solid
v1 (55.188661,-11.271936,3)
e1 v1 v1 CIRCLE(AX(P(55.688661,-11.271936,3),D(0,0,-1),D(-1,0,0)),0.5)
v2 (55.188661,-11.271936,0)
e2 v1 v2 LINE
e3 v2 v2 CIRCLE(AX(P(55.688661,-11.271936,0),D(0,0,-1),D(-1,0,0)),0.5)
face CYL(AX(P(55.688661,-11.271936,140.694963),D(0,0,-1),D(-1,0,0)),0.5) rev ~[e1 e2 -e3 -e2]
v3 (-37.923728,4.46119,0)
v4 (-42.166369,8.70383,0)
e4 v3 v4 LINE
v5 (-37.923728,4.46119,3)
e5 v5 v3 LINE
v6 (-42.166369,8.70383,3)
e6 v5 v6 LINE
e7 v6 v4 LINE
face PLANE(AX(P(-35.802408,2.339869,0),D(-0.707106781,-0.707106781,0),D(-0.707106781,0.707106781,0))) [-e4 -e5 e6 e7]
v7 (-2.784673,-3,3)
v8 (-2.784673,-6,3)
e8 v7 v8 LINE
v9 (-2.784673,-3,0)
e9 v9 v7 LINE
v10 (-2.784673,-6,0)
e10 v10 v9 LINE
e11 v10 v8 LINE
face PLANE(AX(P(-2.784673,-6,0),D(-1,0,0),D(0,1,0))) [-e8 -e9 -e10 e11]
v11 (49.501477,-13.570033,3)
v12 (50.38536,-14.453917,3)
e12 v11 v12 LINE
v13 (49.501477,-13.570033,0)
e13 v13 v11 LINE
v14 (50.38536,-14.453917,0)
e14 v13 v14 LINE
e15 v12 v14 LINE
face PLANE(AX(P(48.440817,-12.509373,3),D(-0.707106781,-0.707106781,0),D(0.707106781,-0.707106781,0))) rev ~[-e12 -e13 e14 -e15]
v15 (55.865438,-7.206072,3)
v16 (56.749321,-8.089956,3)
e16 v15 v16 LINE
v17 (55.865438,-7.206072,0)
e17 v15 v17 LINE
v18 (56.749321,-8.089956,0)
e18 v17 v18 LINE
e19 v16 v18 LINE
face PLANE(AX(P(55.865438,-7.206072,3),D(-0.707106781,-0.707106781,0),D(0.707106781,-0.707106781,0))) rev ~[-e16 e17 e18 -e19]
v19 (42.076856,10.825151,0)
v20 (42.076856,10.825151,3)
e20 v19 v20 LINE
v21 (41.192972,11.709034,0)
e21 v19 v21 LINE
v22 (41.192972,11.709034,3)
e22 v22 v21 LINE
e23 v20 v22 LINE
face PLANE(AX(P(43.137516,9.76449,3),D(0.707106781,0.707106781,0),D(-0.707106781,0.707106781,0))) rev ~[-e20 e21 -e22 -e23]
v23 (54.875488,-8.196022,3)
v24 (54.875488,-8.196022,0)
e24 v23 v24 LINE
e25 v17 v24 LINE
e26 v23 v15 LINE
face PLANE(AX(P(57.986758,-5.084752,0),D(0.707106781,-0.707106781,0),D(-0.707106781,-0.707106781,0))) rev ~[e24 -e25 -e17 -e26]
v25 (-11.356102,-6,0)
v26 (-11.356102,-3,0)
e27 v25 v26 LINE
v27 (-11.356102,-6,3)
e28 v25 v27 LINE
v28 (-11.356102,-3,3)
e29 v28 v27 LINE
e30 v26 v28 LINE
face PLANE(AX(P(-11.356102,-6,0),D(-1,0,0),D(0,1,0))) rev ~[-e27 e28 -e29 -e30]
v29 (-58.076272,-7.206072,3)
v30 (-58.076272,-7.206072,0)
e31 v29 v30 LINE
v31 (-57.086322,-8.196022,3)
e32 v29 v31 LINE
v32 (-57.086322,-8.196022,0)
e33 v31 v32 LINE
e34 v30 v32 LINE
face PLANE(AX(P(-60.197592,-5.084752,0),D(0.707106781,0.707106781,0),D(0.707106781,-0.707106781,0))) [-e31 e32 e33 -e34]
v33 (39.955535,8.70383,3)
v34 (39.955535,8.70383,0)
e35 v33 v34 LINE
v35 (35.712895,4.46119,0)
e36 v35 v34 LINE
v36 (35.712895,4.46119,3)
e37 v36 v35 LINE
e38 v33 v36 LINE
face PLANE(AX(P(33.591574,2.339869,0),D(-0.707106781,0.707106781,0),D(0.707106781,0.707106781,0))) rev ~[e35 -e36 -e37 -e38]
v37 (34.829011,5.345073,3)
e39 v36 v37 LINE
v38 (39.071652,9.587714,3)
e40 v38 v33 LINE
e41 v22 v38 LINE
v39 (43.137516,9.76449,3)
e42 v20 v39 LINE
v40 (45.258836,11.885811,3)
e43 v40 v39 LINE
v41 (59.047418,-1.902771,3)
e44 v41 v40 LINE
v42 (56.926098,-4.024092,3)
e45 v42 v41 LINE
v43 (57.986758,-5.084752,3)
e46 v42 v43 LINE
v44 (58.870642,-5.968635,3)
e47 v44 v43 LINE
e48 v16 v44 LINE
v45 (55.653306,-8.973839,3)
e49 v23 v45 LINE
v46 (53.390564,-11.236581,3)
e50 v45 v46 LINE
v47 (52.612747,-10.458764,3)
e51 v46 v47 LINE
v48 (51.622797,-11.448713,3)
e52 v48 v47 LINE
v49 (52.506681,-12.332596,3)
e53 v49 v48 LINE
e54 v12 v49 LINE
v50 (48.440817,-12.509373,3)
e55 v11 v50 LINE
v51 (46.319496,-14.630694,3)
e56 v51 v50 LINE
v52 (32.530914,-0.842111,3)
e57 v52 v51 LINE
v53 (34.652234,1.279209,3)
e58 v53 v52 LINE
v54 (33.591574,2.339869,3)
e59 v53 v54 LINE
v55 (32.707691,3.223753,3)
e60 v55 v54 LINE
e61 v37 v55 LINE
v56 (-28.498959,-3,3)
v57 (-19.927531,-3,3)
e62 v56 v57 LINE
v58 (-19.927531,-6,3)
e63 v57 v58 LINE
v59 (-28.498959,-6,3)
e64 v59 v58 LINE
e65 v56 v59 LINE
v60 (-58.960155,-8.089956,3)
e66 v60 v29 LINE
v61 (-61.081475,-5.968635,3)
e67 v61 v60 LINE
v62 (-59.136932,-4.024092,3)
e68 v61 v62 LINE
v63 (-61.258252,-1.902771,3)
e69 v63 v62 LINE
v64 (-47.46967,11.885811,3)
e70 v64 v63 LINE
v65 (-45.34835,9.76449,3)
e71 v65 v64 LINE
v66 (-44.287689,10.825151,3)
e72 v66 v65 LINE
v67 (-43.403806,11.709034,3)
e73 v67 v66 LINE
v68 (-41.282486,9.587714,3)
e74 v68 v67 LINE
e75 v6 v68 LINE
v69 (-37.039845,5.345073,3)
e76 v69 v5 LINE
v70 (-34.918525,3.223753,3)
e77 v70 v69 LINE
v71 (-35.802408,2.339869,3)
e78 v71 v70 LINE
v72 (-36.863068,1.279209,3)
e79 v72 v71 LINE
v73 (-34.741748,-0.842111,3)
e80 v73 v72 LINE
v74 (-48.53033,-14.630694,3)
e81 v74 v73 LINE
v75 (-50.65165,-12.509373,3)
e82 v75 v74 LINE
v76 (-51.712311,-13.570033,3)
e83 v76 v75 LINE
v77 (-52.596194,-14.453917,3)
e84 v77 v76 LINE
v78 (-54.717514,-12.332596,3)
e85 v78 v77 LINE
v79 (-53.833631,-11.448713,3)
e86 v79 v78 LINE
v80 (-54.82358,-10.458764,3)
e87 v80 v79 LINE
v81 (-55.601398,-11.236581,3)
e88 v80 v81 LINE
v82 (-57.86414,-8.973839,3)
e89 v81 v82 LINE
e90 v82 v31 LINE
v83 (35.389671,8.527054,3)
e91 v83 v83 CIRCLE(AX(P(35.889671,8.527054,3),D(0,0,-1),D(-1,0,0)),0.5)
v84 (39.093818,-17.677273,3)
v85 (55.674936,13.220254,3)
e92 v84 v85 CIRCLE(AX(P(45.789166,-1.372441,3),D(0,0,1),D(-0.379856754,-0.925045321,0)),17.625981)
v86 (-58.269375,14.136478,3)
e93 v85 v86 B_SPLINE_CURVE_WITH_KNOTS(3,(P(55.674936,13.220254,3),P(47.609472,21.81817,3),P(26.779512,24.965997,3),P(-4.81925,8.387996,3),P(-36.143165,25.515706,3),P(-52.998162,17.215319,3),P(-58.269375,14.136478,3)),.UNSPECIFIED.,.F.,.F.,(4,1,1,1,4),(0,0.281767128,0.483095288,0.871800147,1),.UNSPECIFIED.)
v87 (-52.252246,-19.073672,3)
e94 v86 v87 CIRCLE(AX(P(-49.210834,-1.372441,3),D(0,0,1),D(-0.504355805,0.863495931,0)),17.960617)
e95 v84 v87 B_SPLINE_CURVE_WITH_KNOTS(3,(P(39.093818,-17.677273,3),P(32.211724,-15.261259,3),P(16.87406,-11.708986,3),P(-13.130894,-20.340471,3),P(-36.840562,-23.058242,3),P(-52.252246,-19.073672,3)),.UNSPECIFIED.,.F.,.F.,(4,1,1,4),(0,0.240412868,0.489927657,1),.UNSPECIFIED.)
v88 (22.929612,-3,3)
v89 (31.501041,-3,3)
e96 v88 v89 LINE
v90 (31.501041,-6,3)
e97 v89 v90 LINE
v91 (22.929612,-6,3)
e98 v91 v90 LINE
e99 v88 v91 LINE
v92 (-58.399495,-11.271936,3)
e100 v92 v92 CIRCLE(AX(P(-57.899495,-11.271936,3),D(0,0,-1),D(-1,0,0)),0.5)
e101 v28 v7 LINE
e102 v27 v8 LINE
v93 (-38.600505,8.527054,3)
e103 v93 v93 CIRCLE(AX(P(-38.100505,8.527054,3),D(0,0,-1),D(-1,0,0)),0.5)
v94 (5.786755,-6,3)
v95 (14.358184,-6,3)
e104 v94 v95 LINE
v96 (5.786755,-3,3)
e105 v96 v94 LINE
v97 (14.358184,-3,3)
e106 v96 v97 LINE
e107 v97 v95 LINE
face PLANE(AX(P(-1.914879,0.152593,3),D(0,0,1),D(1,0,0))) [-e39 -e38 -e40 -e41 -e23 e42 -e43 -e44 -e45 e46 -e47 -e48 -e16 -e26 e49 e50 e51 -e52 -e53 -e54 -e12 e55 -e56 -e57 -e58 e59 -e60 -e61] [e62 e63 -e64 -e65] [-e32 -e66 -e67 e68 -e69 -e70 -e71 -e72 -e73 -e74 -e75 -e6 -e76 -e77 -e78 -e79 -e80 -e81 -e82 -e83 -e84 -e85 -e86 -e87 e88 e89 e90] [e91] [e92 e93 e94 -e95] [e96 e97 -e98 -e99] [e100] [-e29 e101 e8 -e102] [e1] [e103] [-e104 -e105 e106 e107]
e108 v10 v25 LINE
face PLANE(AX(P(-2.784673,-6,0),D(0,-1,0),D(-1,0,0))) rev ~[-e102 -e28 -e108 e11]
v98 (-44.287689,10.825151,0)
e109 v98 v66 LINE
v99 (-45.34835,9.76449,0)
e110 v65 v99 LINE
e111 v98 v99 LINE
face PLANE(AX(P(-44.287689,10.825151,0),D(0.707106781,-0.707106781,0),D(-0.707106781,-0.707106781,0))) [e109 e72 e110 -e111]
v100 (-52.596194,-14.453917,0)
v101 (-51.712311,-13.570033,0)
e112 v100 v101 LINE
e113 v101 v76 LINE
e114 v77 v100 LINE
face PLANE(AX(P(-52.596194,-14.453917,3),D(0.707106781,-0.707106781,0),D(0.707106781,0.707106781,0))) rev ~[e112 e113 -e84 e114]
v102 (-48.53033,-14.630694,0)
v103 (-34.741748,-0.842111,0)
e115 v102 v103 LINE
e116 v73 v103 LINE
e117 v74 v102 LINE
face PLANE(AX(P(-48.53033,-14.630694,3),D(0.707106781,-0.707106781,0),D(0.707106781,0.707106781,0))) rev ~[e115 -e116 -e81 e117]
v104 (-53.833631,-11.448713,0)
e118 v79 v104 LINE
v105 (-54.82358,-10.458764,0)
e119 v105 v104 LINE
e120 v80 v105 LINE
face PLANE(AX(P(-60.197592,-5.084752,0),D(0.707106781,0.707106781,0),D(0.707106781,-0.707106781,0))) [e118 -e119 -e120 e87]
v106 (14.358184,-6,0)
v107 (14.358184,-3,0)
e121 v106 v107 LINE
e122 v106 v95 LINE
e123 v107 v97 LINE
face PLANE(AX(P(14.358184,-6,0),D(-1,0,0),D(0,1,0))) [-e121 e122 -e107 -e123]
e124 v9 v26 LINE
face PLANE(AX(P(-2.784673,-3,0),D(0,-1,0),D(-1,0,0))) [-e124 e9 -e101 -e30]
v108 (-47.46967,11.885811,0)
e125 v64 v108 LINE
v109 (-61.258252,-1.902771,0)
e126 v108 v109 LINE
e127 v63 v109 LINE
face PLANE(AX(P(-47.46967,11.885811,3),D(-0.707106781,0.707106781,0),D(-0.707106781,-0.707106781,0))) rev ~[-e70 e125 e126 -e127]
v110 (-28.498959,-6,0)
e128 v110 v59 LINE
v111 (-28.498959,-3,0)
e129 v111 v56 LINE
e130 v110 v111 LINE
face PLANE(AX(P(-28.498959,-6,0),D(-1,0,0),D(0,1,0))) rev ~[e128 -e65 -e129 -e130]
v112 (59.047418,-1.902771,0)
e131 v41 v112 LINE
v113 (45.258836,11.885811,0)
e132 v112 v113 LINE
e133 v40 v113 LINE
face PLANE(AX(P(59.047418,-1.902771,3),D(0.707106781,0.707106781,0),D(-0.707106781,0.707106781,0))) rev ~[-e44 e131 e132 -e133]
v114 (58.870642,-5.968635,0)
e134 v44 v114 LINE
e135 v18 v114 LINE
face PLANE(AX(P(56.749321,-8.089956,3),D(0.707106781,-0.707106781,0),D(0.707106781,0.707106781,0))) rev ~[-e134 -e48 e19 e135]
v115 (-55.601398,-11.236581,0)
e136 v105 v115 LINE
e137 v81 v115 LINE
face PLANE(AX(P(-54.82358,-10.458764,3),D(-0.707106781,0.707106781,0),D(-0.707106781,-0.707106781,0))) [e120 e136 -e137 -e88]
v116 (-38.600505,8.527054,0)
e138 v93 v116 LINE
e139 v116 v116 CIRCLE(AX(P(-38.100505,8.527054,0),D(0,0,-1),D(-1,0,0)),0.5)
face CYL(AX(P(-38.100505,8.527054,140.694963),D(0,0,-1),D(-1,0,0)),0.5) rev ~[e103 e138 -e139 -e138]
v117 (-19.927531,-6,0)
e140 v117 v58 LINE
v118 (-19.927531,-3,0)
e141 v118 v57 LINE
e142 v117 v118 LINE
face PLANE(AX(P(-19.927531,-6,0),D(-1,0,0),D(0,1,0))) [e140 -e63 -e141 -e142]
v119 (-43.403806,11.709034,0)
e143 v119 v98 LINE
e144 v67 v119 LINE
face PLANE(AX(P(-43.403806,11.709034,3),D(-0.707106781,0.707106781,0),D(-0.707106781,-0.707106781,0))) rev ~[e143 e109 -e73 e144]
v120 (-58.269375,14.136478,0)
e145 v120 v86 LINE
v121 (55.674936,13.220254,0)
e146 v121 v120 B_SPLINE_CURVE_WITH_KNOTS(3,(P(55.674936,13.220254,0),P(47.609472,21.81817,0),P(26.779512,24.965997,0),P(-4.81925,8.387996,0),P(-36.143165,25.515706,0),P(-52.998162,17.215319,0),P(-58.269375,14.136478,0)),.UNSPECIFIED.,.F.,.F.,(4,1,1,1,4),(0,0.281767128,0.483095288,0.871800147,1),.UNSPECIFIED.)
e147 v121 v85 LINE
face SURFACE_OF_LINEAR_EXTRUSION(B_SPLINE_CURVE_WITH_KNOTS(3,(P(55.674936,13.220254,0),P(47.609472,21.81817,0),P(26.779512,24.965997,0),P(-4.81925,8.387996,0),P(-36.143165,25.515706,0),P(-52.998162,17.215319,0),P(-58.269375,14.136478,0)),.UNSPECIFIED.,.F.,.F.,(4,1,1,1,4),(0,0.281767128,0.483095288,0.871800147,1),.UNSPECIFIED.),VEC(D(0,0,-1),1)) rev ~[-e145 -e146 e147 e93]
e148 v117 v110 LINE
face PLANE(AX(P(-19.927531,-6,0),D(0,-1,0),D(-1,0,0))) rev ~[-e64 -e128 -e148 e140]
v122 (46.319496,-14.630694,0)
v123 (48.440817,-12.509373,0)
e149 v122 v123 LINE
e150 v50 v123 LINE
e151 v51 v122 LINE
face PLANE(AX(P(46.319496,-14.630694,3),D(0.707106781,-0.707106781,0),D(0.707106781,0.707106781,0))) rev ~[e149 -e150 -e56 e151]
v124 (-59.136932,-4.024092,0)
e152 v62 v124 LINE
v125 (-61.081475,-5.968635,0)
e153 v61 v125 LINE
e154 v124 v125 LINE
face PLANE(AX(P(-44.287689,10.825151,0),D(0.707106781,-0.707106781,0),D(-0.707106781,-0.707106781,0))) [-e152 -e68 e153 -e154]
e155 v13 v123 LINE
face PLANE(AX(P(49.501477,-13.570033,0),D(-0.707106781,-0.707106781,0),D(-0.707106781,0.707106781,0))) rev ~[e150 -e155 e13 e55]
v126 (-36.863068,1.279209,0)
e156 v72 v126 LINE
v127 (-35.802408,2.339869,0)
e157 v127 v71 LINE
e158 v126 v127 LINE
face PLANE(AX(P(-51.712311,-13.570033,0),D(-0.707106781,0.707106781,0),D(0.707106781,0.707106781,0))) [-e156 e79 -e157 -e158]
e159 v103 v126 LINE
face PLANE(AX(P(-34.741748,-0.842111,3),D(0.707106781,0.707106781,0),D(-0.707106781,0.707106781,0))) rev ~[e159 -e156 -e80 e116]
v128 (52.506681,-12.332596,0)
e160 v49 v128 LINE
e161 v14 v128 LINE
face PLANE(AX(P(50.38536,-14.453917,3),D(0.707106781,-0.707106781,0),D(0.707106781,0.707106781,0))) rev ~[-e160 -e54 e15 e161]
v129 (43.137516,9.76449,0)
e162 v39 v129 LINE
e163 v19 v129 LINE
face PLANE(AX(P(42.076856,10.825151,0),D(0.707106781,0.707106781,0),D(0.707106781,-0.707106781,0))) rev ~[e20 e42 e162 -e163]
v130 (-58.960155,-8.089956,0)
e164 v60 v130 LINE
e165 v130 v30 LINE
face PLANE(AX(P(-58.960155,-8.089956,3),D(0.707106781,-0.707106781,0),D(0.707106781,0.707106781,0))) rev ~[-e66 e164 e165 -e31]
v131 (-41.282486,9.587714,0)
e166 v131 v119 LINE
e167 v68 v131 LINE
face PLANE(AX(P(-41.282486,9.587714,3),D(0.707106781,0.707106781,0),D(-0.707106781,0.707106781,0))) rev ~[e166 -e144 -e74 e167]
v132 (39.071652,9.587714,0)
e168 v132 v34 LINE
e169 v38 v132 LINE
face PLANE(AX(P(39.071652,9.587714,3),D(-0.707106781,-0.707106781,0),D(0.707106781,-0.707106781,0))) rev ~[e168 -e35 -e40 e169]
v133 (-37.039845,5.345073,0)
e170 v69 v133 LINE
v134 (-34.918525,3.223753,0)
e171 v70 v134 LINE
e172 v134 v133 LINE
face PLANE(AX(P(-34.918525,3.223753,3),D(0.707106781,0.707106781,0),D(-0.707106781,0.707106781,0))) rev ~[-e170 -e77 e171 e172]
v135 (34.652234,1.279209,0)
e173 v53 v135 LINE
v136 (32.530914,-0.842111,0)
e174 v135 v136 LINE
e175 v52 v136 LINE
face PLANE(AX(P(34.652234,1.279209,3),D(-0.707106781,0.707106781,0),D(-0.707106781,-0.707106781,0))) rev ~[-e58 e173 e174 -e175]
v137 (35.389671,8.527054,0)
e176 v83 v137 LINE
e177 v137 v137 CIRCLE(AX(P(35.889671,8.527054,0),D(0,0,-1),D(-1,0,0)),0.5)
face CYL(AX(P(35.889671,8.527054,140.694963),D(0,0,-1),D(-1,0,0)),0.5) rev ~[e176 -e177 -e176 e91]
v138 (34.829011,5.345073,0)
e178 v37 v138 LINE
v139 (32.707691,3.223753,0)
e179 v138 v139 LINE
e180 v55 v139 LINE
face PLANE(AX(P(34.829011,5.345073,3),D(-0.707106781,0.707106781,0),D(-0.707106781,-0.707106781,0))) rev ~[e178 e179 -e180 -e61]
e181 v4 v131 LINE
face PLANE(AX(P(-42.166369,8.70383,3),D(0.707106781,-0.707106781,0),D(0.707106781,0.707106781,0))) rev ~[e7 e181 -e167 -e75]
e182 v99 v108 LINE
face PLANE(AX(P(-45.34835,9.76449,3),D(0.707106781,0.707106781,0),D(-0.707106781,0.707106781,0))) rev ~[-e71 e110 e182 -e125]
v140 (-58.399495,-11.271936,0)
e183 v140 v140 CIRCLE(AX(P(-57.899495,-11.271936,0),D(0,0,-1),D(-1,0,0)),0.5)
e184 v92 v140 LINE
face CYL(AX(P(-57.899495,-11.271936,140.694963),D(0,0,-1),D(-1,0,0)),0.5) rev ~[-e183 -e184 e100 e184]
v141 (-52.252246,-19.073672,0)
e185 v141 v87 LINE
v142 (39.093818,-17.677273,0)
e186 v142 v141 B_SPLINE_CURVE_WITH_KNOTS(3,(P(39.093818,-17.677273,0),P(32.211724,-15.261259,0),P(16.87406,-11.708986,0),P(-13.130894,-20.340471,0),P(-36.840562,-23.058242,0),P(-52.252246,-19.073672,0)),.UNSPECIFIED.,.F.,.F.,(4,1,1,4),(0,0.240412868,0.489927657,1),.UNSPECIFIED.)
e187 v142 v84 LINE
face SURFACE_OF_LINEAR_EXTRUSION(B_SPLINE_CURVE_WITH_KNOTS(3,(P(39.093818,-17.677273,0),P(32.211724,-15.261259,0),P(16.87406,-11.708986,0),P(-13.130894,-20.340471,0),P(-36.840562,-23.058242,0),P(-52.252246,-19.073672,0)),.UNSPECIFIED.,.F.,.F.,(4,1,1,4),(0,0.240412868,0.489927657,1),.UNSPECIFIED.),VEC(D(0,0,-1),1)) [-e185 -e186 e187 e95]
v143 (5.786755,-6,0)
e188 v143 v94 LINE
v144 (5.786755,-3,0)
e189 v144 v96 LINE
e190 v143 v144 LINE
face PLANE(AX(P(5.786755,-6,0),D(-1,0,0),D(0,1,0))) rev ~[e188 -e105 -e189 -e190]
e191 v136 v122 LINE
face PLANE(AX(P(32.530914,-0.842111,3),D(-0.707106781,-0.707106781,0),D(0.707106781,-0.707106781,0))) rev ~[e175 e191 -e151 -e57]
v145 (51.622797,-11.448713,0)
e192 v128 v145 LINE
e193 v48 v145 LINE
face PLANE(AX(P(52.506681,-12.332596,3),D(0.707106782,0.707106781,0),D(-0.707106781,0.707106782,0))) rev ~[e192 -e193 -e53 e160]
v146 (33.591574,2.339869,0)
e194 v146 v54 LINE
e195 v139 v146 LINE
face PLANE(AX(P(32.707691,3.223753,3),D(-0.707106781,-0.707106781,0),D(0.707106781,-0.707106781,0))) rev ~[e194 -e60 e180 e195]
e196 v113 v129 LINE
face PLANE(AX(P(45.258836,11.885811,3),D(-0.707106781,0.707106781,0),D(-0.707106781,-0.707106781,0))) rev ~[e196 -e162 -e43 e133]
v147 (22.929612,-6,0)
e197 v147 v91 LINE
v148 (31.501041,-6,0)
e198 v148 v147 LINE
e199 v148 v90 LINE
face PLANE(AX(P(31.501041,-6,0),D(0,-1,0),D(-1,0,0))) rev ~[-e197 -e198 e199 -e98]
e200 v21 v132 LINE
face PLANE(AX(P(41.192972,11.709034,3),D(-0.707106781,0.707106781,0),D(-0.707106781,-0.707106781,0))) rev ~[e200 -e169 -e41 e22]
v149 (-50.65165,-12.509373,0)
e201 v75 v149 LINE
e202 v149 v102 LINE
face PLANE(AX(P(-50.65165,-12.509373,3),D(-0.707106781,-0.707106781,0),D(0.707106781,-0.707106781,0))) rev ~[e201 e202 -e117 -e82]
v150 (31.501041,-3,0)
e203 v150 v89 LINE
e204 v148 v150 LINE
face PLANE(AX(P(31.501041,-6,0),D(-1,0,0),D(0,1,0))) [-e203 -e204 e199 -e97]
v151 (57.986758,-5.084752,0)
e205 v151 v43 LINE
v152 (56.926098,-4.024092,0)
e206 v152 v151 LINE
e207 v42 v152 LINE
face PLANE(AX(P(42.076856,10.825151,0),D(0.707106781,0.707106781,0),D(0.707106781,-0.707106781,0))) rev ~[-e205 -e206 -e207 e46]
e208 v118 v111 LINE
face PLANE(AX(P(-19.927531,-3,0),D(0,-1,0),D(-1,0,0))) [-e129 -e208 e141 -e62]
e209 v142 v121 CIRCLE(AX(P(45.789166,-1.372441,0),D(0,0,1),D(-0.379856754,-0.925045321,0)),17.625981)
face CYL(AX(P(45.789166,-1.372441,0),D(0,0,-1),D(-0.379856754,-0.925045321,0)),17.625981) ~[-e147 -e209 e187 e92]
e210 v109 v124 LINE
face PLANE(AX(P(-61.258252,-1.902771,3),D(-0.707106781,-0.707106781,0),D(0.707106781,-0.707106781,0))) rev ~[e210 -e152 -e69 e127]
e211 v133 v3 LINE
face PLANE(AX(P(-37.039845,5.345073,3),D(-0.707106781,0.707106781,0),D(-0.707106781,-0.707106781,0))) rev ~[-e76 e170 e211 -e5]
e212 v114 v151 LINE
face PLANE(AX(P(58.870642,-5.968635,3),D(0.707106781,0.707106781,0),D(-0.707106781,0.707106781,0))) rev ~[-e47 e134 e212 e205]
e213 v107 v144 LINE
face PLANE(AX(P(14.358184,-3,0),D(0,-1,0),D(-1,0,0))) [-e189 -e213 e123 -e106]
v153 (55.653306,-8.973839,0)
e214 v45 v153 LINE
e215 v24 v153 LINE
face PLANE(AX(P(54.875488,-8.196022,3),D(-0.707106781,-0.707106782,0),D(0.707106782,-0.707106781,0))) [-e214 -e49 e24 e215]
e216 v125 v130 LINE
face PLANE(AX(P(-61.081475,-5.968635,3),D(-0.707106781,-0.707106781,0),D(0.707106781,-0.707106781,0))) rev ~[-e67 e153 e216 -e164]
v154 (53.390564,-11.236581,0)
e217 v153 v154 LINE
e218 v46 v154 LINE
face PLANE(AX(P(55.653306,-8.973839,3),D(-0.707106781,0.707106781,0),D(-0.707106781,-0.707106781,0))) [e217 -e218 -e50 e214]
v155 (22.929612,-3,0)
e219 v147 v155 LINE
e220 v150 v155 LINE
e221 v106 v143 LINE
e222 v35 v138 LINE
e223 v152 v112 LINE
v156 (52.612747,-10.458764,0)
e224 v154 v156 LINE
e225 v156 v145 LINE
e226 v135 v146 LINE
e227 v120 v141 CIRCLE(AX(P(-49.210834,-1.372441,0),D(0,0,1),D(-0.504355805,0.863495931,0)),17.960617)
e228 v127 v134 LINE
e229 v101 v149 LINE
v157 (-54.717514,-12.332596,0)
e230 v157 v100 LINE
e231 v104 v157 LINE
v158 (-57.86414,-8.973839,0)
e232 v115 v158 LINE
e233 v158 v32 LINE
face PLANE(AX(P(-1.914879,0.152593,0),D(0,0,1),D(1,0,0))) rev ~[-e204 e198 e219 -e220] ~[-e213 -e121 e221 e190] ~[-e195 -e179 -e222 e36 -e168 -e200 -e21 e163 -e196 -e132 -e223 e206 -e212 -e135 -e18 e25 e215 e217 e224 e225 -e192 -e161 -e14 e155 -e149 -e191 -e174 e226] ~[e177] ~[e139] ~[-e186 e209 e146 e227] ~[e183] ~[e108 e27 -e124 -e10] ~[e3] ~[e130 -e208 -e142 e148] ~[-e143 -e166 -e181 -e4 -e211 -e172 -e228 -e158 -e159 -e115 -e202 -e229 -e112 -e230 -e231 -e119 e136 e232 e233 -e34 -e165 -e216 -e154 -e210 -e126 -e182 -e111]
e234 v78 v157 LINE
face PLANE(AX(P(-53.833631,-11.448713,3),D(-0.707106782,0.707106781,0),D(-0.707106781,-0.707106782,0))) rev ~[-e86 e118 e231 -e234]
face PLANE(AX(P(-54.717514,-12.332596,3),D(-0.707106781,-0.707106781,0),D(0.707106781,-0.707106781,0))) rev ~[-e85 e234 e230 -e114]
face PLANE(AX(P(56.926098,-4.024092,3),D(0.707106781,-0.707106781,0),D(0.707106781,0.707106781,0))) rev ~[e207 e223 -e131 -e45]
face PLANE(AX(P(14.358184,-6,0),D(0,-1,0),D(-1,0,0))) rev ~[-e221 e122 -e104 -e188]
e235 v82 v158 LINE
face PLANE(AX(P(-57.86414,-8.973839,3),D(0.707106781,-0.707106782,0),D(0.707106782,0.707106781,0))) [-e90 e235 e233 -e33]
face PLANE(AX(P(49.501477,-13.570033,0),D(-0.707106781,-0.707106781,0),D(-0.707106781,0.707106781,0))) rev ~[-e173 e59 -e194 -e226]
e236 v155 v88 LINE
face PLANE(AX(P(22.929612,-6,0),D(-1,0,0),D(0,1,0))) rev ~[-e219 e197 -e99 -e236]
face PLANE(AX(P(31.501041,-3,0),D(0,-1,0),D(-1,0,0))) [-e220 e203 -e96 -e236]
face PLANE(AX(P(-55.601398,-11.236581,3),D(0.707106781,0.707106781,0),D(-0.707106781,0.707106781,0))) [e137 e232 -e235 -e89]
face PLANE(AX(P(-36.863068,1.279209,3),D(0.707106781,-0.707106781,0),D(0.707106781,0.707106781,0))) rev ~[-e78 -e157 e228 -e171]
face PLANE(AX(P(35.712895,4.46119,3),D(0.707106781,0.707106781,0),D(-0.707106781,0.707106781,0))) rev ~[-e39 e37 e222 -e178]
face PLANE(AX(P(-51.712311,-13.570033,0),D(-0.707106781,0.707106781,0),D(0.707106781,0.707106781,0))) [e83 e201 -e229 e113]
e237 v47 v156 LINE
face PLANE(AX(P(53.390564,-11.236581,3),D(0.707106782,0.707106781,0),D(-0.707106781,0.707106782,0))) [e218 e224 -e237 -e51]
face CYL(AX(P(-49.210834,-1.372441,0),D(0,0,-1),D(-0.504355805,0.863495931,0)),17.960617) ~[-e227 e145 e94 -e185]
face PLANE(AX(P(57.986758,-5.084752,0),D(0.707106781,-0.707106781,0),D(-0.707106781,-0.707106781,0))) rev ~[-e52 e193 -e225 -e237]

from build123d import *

# Parameters (mm, degrees)
AUFSATZ_LINEAR_AUSTRAGEN1_DEPTH = 3
SCHNITT_LINEAR_AUSTRAGEN2_DEPTH = 71.820715528
F_1_0_1_DURCHMESSER_BOHRUNG1_D  = 1
SKIZZE6_W                       = 8.571428571
SKIZZE6_H                       = 3
SKIZZE6_W_2                     = 8.571428572
SCHNITT_LINEAR_AUSTRAGEN3_DEPTH = 10
SCHNITT_LINEAR_AUSTRAGEN4_DEPTH = 10


with BuildPart() as part:
    # Skizze1 → Aufsatz-Linear austragen1 (new body)
    with BuildSketch(Plane.XY):
        with BuildLine():
            ThreePointArc((39.09381812, -17.677272974), (61.320070719, -9.707081363), (55.674936462, 13.220254247))
            add(Edge.make_bspline(
                [(55.674936462, 13.220254247), (47.609471596, 21.818170185), (26.779512273, 24.965996748), (-4.819250153, 8.3879963), (-36.143165112, 25.515706185), (-52.998162401, 17.21531918), (-58.269375127, 14.13647811)],
                knots=[0, 0, 0, 0, 0.281767128, 0.483095288, 0.871800147, 1, 1, 1, 1], degree=3))
            ThreePointArc((-58.269375127, 14.13647811), (-66.8837152, -4.574474742), (-52.252246026, -19.073672007))
            add(Edge.make_bspline(
                [(39.09381812, -17.677272974), (32.211724331, -15.261258593), (16.874059684, -11.708986477), (-13.13089401, -20.340470931), (-36.840562428, -23.058241539), (-52.252246026, -19.073672007)],
                knots=[0, 0, 0, 0, 0.240412868, 0.489927657, 1, 1, 1, 1], degree=3))
        make_face()
        Polygon((49.501476789, -13.570033348), (33.591574213, 2.339869229), (42.076855587, 10.825150603), (57.986758164, -5.084751973), align=None, mode=Mode.SUBTRACT)
        Polygon((-51.712310601, -13.570033348), (-35.802408025, 2.339869229), (-44.287689399, 10.825150603), (-60.197591975, -5.084751973), align=None, mode=Mode.SUBTRACT)
    extrude(amount=AUFSATZ_LINEAR_AUSTRAGEN1_DEPTH)

    # Skizze3 → Schnitt-Linear austragen2 (cut, through all)
    with BuildSketch(Plane.XY.offset(3)):
        Polygon((-47.469669914, 11.885810775), (-61.258252147, -1.902771458), (-59.136931804, -4.024091802), (-61.081475452, -5.96863545), (-58.960155108, -8.089955793), (-58.076271632, -7.206072317), (-53.833630945, -11.448713004), (-54.717514421, -12.332596481), (-52.596194078, -14.453916824), (-50.651650429, -12.509373176), (-48.530330086, -14.630693519), (-34.741747853, -0.842111286), (-36.863068196, 1.279209057), (-34.918524548, 3.223752706), (-37.039844892, 5.345073049), (-37.923728368, 4.461189573), (-42.166369055, 8.70383026), (-41.282485579, 9.587713736), (-43.403805922, 11.70903408), (-45.348349571, 9.764490432), align=None)
        Polygon((59.047418335, -1.902771458), (45.258836102, 11.885810775), (43.137515759, 9.764490432), (41.19297211, 11.70903408), (39.071651767, 9.587713736), (39.955535243, 8.70383026), (35.712894556, 4.461189573), (34.82901108, 5.345073049), (32.707690736, 3.223752706), (34.652234384, 1.279209057), (32.530914041, -0.842111286), (46.319496274, -14.630693519), (48.440816618, -12.509373176), (50.385360266, -14.453916824), (52.506680609, -12.332596481), (51.622797133, -11.448713004), (55.86543782, -7.206072317), (56.749321296, -8.089955793), (58.87064164, -5.96863545), (56.926097992, -4.024091802), align=None)
    extrude(amount=-SCHNITT_LINEAR_AUSTRAGEN2_DEPTH, mode=Mode.SUBTRACT)

    # Ø1.0 (1) Durchmesser Bohrung1 (through all)
    with Locations(Plane.XY.offset(3)):
        with Locations((-38.100505063, 8.527053564), (-57.899494937, -11.271936309), (35.889671251, 8.527053564), (55.688661125, -11.271936309)):
            Hole(F_1_0_1_DURCHMESSER_BOHRUNG1_D / 2)

    # Skizze6 → Schnitt-Linear austragen3 (cut)
    with BuildSketch(Plane(origin=(0, 0, 0), x_dir=(-1, 0, 0), z_dir=(0, 0, -1))):
        with Locations((-27.215326594, -4.5)):
            Rectangle(SKIZZE6_W, SKIZZE6_H)
        with Locations((-10.072469451, -4.5)):
            Rectangle(SKIZZE6_W, SKIZZE6_H)
        with Locations((7.070387692, -4.5)):
            Rectangle(SKIZZE6_W, SKIZZE6_H)
        with Locations((24.213244835, -4.5)):
            Rectangle(SKIZZE6_W_2, SKIZZE6_H)
    extrude(amount=-SCHNITT_LINEAR_AUSTRAGEN3_DEPTH, mode=Mode.SUBTRACT)

    # Skizze7 → Schnitt-Linear austragen4 (cut)
    with BuildSketch(Plane.XY.offset(3)):
        Polygon((-57.086322138, -8.196021811), (-54.823580438, -10.45876351), (-55.601397898, -11.23658097), (-57.864139598, -8.97383927), align=None)
        Polygon((52.612746627, -10.45876351), (54.875488326, -8.196021811), (55.653305786, -8.97383927), (53.390564086, -11.23658097), align=None)
    extrude(amount=-SCHNITT_LINEAR_AUSTRAGEN4_DEPTH, mode=Mode.SUBTRACT)


solid = part.part
